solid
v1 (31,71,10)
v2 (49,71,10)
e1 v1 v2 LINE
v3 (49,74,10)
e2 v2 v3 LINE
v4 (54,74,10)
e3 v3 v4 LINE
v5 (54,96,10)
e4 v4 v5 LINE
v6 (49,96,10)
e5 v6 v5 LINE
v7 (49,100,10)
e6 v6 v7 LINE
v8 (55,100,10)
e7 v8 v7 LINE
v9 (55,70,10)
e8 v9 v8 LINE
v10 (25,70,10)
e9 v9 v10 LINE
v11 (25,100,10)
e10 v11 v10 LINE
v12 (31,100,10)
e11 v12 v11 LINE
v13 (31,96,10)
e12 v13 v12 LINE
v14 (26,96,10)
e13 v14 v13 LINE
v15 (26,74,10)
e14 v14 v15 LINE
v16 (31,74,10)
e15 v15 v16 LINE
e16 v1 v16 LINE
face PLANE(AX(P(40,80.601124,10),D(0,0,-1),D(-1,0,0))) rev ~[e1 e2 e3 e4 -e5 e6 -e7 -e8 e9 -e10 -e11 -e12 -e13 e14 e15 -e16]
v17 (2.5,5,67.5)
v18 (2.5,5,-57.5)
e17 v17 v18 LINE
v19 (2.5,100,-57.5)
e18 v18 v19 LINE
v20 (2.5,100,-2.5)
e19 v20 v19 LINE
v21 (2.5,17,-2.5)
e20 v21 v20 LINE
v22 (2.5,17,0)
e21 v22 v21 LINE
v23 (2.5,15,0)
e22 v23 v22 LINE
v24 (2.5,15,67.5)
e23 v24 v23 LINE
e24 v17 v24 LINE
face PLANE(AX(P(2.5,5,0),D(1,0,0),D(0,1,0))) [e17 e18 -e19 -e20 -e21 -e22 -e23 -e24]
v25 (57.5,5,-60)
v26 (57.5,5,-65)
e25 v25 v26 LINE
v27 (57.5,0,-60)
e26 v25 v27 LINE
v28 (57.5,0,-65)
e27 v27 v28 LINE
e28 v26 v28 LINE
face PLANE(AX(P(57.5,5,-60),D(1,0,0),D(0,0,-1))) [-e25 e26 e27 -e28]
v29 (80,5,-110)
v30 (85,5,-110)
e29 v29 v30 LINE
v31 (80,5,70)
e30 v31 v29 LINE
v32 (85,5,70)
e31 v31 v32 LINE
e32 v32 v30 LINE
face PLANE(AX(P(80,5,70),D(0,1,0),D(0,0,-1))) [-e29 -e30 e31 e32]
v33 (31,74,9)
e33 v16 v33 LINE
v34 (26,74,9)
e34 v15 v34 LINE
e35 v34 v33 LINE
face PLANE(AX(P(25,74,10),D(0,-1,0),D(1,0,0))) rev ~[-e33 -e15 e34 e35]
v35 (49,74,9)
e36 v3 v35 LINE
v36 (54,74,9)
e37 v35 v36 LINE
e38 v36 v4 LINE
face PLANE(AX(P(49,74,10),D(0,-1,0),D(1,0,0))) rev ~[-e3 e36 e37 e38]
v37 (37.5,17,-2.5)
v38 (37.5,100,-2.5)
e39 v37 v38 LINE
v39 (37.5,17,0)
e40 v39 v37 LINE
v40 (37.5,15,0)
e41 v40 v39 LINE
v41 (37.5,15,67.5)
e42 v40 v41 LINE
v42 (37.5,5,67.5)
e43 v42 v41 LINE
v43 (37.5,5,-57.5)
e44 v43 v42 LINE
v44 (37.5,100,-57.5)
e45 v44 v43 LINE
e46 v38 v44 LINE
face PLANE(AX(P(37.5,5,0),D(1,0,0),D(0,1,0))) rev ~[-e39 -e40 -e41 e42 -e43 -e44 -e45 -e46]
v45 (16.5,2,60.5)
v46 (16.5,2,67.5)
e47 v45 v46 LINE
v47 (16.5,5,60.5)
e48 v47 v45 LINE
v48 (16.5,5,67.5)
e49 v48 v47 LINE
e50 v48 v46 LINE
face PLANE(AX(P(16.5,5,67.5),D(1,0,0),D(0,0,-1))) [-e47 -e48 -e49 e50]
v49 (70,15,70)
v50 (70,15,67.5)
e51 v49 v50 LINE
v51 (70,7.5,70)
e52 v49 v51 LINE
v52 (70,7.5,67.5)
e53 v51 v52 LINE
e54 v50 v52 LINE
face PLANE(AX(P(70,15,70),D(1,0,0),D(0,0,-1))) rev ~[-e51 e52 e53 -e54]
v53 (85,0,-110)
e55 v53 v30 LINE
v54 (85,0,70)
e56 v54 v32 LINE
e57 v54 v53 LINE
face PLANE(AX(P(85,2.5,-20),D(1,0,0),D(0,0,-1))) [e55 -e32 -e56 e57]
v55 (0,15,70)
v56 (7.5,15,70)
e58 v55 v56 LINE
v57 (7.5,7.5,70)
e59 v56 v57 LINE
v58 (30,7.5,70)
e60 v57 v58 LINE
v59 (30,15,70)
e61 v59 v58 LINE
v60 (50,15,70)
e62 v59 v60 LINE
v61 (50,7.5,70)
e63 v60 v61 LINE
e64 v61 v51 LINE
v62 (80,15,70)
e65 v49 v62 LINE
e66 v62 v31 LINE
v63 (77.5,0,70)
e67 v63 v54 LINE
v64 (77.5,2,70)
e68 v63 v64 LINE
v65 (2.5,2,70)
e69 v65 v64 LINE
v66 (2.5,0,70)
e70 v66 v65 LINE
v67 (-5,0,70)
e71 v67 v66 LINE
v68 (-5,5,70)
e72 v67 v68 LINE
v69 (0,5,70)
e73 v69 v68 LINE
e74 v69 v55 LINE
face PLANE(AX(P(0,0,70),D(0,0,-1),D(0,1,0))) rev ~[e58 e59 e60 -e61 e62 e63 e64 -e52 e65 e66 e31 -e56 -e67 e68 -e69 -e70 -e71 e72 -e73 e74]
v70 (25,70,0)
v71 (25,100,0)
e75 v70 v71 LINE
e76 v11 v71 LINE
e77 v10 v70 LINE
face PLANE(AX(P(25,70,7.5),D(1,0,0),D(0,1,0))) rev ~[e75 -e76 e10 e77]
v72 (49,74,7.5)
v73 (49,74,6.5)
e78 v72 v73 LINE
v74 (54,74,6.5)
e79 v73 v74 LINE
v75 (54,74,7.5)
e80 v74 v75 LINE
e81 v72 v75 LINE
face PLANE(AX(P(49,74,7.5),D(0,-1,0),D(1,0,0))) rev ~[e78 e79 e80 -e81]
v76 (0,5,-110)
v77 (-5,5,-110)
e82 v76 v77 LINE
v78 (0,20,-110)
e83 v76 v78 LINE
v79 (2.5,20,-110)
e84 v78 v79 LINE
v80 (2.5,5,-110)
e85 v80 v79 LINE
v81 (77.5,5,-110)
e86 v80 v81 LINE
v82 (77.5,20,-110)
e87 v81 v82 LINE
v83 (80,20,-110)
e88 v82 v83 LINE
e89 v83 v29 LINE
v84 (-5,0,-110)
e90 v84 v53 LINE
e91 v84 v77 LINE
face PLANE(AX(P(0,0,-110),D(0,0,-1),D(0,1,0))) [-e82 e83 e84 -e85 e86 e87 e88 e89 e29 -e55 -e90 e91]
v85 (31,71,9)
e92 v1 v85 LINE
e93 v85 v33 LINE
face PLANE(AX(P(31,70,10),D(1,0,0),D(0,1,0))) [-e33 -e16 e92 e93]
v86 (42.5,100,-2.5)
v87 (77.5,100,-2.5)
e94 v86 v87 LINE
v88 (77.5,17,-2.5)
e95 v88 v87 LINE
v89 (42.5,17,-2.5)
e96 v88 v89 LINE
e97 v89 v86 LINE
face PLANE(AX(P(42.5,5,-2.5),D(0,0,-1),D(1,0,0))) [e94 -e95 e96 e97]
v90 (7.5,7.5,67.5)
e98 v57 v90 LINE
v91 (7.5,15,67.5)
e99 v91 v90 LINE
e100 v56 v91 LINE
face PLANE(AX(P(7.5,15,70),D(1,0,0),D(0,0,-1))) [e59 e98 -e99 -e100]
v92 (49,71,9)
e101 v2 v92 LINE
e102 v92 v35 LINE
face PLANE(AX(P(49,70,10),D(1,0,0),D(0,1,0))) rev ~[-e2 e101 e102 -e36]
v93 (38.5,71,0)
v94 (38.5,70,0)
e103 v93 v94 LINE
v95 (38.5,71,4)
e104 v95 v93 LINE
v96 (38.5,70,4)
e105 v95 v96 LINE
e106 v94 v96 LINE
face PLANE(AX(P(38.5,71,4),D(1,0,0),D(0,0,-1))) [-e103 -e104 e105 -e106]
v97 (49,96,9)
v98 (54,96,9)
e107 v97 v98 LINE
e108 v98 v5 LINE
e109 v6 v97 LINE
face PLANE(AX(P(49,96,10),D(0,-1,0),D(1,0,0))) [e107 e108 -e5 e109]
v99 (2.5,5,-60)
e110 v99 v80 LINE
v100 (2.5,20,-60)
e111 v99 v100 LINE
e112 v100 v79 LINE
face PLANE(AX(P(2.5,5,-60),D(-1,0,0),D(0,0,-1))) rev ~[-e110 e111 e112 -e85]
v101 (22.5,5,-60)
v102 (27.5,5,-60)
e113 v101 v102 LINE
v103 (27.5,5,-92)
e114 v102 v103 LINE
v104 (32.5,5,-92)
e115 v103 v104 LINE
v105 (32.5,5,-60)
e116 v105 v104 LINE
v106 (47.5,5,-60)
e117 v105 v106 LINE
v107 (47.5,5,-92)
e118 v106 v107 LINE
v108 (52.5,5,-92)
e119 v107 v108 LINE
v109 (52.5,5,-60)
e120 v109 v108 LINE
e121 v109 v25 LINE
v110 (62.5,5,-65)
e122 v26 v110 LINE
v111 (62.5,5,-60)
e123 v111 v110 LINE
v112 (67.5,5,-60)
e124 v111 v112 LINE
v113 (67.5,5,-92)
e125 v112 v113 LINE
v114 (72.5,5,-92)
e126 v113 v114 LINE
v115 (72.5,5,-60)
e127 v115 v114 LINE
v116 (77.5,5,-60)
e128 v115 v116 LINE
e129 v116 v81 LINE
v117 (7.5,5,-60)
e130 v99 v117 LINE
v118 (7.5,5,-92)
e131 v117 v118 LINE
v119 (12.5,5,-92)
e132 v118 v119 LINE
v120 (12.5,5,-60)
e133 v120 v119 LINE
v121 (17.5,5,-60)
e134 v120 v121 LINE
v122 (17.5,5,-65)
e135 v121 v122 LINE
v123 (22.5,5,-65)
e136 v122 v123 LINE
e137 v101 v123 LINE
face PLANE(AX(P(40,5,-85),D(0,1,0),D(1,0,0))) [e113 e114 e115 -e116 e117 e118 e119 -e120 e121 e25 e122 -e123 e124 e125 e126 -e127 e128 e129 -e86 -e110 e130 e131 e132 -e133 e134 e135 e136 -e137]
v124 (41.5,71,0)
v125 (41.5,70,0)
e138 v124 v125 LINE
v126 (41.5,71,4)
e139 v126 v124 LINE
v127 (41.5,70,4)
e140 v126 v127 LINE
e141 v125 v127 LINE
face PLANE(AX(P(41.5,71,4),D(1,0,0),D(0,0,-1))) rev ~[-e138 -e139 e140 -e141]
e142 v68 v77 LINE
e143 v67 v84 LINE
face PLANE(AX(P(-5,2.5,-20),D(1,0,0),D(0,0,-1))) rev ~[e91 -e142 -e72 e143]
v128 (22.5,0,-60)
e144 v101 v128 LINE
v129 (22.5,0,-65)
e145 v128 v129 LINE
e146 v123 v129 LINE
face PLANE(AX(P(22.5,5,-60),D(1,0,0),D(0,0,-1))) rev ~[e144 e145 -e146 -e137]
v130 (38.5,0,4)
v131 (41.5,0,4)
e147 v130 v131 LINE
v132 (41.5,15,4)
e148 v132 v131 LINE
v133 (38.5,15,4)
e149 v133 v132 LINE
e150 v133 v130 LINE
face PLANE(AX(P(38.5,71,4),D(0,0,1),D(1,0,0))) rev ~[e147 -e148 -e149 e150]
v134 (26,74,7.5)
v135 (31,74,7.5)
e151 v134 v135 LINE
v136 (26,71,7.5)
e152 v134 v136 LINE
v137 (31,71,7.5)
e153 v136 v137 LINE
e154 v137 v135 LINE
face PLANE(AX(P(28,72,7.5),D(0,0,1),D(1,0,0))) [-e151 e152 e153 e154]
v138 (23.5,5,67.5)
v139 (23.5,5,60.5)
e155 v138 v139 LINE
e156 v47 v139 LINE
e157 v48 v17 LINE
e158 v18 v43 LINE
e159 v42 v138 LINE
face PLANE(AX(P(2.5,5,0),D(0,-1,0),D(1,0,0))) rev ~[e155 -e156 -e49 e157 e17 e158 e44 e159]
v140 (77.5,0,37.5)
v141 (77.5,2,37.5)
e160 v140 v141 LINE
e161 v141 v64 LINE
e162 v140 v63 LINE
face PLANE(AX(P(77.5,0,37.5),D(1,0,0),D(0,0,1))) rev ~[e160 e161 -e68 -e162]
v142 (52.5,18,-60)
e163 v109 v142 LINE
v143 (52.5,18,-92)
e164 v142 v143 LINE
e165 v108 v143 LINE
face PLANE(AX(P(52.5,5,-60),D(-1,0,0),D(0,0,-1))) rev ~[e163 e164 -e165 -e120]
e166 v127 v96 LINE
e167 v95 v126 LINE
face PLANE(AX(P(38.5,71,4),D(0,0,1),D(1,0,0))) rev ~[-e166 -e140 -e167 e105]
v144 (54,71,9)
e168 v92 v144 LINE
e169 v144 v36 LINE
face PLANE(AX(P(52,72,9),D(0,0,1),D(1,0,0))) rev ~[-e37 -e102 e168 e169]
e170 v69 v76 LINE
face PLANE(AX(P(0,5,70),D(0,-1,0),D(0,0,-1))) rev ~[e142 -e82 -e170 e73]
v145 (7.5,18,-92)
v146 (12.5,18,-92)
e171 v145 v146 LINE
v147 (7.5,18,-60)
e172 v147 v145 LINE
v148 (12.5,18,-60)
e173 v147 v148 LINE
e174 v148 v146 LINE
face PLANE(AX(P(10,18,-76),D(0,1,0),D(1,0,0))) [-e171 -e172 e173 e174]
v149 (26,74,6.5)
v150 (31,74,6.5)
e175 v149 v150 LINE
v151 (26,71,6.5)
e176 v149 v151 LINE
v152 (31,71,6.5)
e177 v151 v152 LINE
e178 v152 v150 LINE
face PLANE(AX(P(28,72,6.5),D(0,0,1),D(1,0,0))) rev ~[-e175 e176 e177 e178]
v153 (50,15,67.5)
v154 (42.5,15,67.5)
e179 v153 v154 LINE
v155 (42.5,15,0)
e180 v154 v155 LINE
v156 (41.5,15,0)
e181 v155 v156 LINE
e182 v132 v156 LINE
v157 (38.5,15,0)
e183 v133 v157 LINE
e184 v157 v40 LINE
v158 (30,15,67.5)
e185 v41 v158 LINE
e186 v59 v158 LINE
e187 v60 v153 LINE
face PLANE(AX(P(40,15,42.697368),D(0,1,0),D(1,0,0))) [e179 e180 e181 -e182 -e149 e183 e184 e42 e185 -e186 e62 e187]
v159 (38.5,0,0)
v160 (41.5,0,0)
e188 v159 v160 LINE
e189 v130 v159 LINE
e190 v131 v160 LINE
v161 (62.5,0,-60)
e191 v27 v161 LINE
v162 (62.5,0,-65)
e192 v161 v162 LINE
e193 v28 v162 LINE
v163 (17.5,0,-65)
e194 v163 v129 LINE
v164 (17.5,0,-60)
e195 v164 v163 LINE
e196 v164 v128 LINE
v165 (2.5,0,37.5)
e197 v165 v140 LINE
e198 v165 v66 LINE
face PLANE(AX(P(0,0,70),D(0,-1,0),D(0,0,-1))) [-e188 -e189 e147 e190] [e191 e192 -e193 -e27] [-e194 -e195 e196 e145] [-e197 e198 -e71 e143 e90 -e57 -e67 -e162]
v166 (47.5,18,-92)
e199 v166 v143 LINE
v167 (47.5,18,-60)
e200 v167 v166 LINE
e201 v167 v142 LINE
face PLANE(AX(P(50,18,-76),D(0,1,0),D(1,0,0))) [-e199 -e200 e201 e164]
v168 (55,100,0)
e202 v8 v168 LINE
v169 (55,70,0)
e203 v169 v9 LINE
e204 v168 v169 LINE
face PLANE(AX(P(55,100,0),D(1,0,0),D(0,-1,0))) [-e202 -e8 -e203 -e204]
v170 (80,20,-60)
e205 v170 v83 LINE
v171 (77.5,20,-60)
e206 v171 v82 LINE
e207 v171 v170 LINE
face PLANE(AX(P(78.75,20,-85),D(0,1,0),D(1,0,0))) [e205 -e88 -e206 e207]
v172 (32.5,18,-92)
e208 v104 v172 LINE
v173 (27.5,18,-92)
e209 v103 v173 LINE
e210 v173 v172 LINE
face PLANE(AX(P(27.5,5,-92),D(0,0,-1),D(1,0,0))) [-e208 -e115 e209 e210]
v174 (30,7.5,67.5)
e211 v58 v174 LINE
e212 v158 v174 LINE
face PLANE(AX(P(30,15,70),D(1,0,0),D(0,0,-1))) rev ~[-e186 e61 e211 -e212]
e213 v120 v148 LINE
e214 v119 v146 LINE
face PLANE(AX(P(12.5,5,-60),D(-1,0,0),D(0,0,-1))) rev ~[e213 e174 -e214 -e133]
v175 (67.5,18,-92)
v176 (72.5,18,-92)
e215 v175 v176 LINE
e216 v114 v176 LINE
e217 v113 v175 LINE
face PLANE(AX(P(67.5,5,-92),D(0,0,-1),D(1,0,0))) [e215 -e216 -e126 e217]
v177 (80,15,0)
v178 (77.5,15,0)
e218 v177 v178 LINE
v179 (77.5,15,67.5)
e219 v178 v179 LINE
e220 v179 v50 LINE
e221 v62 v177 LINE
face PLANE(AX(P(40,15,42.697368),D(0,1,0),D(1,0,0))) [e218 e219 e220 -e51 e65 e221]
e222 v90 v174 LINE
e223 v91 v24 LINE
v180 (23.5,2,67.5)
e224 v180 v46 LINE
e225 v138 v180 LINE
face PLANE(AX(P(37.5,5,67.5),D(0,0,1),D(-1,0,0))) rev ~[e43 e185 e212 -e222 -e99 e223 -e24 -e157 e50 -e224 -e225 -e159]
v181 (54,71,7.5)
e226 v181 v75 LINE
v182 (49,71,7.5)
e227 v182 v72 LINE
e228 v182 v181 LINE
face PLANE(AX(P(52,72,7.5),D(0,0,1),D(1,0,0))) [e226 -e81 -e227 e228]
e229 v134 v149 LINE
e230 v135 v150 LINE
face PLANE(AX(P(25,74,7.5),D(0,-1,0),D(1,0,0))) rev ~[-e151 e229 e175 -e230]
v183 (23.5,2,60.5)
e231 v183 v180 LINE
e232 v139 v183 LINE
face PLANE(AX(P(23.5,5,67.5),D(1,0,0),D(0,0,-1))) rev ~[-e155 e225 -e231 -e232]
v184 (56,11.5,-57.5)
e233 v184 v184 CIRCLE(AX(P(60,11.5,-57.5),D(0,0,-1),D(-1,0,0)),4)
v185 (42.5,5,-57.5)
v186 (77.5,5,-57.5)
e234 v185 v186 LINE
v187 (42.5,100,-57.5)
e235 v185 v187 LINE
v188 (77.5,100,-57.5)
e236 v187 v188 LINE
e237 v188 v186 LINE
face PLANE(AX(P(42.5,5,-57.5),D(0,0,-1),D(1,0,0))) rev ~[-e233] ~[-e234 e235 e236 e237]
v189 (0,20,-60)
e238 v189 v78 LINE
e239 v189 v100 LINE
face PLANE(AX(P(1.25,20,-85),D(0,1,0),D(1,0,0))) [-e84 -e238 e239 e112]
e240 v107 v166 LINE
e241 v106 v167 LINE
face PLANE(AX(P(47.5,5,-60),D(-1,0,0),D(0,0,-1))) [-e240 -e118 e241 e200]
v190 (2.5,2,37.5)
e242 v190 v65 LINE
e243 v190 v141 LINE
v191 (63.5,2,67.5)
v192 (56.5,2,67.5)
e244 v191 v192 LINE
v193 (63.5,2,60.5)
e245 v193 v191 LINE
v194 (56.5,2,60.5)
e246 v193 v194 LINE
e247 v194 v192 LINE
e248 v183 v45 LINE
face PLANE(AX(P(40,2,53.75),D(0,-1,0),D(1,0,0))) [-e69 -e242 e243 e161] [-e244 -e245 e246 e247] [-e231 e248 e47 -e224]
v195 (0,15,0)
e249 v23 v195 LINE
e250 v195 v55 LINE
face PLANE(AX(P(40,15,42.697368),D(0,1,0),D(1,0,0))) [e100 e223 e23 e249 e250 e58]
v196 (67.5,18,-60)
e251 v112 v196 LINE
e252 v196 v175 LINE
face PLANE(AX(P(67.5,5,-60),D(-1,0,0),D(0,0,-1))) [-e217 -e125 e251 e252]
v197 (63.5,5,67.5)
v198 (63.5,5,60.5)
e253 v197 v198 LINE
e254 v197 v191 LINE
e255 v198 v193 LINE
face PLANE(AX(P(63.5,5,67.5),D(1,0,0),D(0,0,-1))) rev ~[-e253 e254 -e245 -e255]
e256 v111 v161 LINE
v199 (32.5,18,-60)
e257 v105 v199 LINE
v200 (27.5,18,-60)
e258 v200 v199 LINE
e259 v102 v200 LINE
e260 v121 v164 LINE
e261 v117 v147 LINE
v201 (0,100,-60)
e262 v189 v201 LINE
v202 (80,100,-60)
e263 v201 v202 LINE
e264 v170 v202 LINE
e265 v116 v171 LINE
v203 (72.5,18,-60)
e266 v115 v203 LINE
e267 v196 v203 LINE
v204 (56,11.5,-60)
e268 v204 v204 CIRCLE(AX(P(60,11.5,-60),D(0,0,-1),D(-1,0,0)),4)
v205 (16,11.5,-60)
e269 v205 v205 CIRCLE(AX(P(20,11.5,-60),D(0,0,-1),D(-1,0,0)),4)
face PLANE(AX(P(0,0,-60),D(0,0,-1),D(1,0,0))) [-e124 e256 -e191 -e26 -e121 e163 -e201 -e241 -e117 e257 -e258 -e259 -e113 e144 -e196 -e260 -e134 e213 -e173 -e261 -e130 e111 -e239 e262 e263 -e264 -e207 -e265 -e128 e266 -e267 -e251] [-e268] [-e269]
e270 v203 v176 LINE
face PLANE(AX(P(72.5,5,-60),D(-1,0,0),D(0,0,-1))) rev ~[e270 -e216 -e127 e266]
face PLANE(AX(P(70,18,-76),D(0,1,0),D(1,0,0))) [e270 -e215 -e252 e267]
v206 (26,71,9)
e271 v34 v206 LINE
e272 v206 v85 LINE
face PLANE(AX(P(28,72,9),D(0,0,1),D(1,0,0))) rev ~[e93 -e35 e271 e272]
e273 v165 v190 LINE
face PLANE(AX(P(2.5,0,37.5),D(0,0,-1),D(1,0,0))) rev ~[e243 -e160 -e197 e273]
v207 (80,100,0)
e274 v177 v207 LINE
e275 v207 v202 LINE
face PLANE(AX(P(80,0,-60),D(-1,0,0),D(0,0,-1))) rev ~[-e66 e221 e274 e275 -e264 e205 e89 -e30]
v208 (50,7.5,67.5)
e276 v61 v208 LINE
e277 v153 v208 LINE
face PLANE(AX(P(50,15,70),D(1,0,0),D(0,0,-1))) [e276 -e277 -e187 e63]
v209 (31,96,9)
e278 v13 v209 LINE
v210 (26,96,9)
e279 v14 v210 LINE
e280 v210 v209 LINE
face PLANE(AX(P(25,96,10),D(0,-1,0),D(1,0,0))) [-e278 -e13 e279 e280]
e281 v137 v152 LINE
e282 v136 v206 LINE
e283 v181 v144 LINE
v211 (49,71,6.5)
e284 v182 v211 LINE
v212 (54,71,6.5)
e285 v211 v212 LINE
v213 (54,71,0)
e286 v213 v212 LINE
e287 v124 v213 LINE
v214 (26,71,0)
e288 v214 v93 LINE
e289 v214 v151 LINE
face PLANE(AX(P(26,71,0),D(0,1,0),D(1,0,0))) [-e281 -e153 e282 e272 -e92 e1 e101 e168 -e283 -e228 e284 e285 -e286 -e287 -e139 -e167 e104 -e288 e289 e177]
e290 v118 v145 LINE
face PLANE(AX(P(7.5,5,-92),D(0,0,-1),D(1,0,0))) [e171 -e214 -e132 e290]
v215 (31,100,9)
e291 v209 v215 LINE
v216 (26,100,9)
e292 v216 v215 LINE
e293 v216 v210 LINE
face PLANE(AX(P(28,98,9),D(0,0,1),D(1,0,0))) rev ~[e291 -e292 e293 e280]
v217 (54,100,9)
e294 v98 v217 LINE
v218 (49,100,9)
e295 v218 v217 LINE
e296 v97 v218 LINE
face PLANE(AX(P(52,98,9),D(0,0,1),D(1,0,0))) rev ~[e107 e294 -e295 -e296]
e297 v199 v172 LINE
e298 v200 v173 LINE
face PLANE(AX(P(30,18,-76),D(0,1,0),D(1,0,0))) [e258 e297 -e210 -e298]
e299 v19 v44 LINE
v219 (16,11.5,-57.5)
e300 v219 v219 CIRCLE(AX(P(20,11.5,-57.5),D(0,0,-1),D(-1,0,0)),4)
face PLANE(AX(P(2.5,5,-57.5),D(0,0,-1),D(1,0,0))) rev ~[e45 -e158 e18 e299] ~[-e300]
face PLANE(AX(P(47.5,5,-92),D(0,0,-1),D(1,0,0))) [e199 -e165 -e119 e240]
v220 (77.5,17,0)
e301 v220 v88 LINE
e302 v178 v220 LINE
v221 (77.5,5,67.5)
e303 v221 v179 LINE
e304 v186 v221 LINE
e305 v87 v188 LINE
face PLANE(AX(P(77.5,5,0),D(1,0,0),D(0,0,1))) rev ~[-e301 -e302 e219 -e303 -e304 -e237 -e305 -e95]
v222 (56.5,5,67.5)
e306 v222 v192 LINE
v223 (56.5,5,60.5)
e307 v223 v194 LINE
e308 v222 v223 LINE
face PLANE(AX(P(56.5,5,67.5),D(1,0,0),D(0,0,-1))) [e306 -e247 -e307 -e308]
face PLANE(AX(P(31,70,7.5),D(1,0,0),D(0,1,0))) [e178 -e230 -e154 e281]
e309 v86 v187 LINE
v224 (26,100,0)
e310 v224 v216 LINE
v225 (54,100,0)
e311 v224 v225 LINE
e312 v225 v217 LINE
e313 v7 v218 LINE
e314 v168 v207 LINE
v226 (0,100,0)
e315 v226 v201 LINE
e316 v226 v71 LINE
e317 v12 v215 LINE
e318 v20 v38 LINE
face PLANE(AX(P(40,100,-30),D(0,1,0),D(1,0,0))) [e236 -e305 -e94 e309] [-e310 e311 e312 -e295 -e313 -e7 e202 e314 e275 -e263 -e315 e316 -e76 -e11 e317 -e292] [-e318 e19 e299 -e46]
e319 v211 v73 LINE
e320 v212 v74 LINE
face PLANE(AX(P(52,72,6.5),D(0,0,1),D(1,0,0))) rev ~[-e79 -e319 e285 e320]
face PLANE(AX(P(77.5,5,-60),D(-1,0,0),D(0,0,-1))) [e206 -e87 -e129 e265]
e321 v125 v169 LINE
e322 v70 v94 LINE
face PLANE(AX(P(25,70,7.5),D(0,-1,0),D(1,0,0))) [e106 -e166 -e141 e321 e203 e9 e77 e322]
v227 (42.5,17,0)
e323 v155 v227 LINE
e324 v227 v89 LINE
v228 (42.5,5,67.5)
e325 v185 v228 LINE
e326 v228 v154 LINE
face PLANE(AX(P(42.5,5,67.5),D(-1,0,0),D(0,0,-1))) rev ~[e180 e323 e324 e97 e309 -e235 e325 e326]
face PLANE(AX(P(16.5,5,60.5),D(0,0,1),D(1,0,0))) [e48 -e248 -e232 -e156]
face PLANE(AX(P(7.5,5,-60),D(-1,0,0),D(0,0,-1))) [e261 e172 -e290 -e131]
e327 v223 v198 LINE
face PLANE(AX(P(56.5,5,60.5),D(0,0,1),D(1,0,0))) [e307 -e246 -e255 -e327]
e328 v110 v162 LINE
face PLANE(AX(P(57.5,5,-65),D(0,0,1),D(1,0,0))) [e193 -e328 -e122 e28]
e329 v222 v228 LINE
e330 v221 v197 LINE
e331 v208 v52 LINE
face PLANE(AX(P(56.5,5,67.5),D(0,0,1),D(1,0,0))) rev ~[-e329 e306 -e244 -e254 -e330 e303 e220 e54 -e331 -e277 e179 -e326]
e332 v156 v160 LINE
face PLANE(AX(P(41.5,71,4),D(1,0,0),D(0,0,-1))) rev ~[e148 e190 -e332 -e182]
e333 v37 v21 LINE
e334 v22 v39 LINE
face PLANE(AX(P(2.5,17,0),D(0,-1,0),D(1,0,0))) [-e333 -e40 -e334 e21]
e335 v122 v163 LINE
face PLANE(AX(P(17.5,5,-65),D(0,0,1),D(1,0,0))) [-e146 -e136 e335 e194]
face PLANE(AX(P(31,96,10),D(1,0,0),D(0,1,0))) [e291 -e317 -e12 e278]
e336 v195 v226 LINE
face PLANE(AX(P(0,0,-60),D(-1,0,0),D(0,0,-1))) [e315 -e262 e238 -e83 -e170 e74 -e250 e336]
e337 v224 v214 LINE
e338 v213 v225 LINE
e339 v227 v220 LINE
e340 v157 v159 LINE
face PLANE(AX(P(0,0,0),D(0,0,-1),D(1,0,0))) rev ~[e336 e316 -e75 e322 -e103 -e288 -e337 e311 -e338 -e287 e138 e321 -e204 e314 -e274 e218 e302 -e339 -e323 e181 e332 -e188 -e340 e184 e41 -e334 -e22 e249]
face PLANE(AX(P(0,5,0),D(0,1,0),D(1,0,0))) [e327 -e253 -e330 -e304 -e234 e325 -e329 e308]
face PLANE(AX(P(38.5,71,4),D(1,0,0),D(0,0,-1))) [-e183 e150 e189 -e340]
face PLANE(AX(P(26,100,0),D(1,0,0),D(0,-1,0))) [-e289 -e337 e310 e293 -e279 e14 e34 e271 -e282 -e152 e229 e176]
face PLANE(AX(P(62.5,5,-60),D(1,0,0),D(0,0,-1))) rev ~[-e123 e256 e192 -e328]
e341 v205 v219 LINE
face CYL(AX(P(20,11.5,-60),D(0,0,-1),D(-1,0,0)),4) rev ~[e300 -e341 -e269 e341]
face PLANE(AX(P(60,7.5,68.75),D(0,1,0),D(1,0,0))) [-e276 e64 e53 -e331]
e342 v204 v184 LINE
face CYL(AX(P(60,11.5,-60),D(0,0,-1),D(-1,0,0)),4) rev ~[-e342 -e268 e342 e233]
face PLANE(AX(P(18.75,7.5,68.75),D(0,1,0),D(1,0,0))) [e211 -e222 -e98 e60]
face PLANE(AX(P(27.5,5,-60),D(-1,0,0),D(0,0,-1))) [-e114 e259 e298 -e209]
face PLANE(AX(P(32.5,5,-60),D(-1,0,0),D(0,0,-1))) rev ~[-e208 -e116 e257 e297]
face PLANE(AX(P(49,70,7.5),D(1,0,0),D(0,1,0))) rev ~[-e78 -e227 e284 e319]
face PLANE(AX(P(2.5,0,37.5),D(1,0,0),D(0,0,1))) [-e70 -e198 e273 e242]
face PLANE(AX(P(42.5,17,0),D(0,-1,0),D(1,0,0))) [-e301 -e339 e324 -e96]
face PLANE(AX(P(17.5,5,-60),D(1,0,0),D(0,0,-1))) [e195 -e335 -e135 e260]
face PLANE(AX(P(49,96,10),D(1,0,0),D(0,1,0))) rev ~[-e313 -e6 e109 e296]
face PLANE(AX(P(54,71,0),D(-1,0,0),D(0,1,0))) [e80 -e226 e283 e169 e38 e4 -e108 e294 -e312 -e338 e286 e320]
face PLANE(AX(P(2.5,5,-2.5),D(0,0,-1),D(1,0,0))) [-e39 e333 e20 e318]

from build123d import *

# Parameters (mm, degrees)
SKETCH1_W                                   = 80
SKETCH1_H                                   = 60
BOSS_EXTRUDE1_DEPTH                         = 100
CUT_EXTRUDE1_START                          = 5
SKETCH2_W                                   = 35
SKETCH2_H                                   = 55
CUT_EXTRUDE1_DEPTH                          = 95
SKETCH3_W                                   = 80
SKETCH3_H                                   = 5
BOSS_EXTRUDE2_DEPTH                         = 70
BOSS_EXTRUDE3_DEPTH                         = 10
SKETCH5_W                                   = 22.5
SKETCH5_H                                   = 2.5
SKETCH5_W_2                                 = 20
CUT_EXTRUDE2_DEPTH                          = 7.5
SKETCH6_W                                   = 35
SKETCH6_H                                   = 12
CUT_EXTRUDE4_DEPTH                          = 57.5
CUT_EXTRUDE6_REACH                          = 184.483
SKETCH7_R                                   = 4
SKETCH9_W                                   = 80
SKETCH9_H                                   = 50
BOSS_EXTRUDE4_DEPTH                         = 5
SKETCH11_W                                  = 75
SKETCH11_H                                  = 32.5
CUT_EXTRUDE7_DEPTH                          = 2
SKETCH13_W                                  = 7
SKETCH13_H                                  = 7
CUT_EXTRUDE8_DEPTH                          = 166.90660023
BOSS_EXTRUDE5_DEPTH                         = 10
SKETCH15_W                                  = 6
SKETCH15_H                                  = 4
BOSS_EXTRUDE6_DEPTH                         = 1
BOSS_EXTRUDE7_START                         = -2.5
SKETCH15_2_W                                = 6
SKETCH15_2_H                                = 4
BOSS_EXTRUDE7_DEPTH                         = 1
SKETCH17_W                                  = 6
SKETCH17_H                                  = 4
BOSS_EXTRUDE8_DEPTH                         = 1
SKETCH18_W                                  = 3
SKETCH18_H                                  = 4
CUT_EXTRUDE9_OLED_CABLE_DEPTH               = 154.430766146
SKETCH20_W                                  = 5
SKETCH20_H                                  = 5
CUT_EXTRUDE10_SOLENOID_WIRE_DEPTH           = 166.90660023
SKETCH21_W                                  = 5
SKETCH21_H                                  = 32
BOSS_EXTRUDE9_SOLENOID_SIDE_SUPPORT_DEPTH   = 13
SKETCH27_W                                  = 2.5
SKETCH27_H                                  = 50
BOSS_EXTRUDE13_SOLENOID_SECTION_WALLS_DEPTH = 15
SKETCH29_W                                  = 180
SKETCH29_H                                  = 5
BOSS_EXTRUDE9_GUIDE_DEPTH                   = 5
BOSS_EXTRUDE10_START                        = -80
SKETCH29_3_W                                = 180
SKETCH29_3_H                                = 5
BOSS_EXTRUDE10_GUIDE_DEPTH                  = 5


with BuildPart() as part:
    # Sketch1 → Boss-Extrude1 (new body)
    with BuildSketch(Plane(origin=(0, 0, 0), x_dir=(1, 0, 0), z_dir=(0, 1, 0))):
        with Locations((40, 30)):
            Rectangle(SKETCH1_W, SKETCH1_H)
    extrude(amount=BOSS_EXTRUDE1_DEPTH)

    # Sketch2 → Cut-Extrude1 (cut)
    with BuildSketch(Plane(origin=(0, 0, 0), x_dir=(1, 0, 0), z_dir=(0, 1, 0)).offset(CUT_EXTRUDE1_START)):
        with Locations((20, 30)):
            Rectangle(SKETCH2_W, SKETCH2_H)
        with Locations((60, 30)):
            Rectangle(SKETCH2_W, SKETCH2_H)
    extrude(amount=CUT_EXTRUDE1_DEPTH, mode=Mode.SUBTRACT)

    # Sketch3 → Boss-Extrude2 (add)
    with BuildSketch(Plane.XY):
        with Locations((40, 2.5)):
            Rectangle(SKETCH3_W, SKETCH3_H)
    extrude(amount=BOSS_EXTRUDE2_DEPTH)

    # Sketch4 → Boss-Extrude3 (add)
    with BuildSketch(Plane(origin=(0, 5, 0), x_dir=(1, 0, 0), z_dir=(0, 1, 0))):
        Polygon((80, 0), (77.5, 0), (77.5, -67.5), (42.5, -67.5), (42.5, 0), (37.5, 0), (37.5, -67.5), (2.5, -67.5), (2.5, 0), (0, 0), (0, -70), (80, -70), align=None)
    extrude(amount=BOSS_EXTRUDE3_DEPTH)

    # Sketch5 → Cut-Extrude2 (cut)
    with BuildSketch(Plane(origin=(0, 15, 0), x_dir=(1, 0, 0), z_dir=(0, 1, 0))):
        with Locations((18.75, -68.75)):
            Rectangle(SKETCH5_W, SKETCH5_H)
        with Locations((60, -68.75)):
            Rectangle(SKETCH5_W_2, SKETCH5_H)
    extrude(amount=-CUT_EXTRUDE2_DEPTH, mode=Mode.SUBTRACT)

    # Sketch6 → Cut-Extrude4 (cut)
    with BuildSketch(Plane.XY):
        with Locations((20, 11)):
            Rectangle(SKETCH6_W, SKETCH6_H)
        with Locations((60, 11)):
            Rectangle(SKETCH6_W, SKETCH6_H)
    extrude(amount=-CUT_EXTRUDE4_DEPTH, mode=Mode.SUBTRACT)

    # Sketch7 → Cut-Extrude6 (cut, up to next)
    with BuildSketch(Plane(origin=(0, 0, -60), x_dir=(-1, 0, 0), z_dir=(0, 0, -1)), mode=Mode.PRIVATE) as cut_extrude6_sk1:
        with Locations((-20, 11.5)):
            Circle(SKETCH7_R)
    cut_extrude6_tool1 = extrude(cut_extrude6_sk1.sketch, amount=-CUT_EXTRUDE6_REACH, mode=Mode.PRIVATE) & part.part
    # Sketch7 → Cut-Extrude6 (cut, up to next)
    with BuildSketch(Plane(origin=(0, 0, -60), x_dir=(-1, 0, 0), z_dir=(0, 0, -1)), mode=Mode.PRIVATE) as cut_extrude6_sk2:
        with Locations((-60, 11.5)):
            Circle(SKETCH7_R)
    cut_extrude6_tool2 = extrude(cut_extrude6_sk2.sketch, amount=-CUT_EXTRUDE6_REACH, mode=Mode.PRIVATE) & part.part
    add(cut_extrude6_tool1.solids().sort_by_distance((20, 11.5, -60))[0], mode=Mode.SUBTRACT)
    add(cut_extrude6_tool2.solids().sort_by_distance((60, 11.5, -60))[0], mode=Mode.SUBTRACT)

    # Sketch9 → Boss-Extrude4 (add)
    with BuildSketch(Plane(origin=(0, 0, 0), x_dir=(1, 0, 0), z_dir=(0, 1, 0))):
        with Locations((40, 85)):
            Rectangle(SKETCH9_W, SKETCH9_H)
    extrude(amount=BOSS_EXTRUDE4_DEPTH)

    # Sketch11 → Cut-Extrude7 (cut)
    with BuildSketch(Plane.XZ):
        with Locations((40, 53.75)):
            Rectangle(SKETCH11_W, SKETCH11_H)
    extrude(amount=-CUT_EXTRUDE7_DEPTH, mode=Mode.SUBTRACT)

    # Sketch13 → Cut-Extrude8 (cut, through all)
    with BuildSketch(Plane(origin=(0, 5, 0), x_dir=(1, 0, 0), z_dir=(0, 1, 0))):
        with Locations((20, -64)):
            Rectangle(SKETCH13_W, SKETCH13_H)
        with Locations((60, -64)):
            Rectangle(SKETCH13_W, SKETCH13_H)
    extrude(amount=-CUT_EXTRUDE8_DEPTH, mode=Mode.SUBTRACT)

    # Sketch14 → Boss-Extrude5 (add)
    with BuildSketch(Plane.XY):
        Polygon((25, 100), (26, 100), (26, 71), (54, 71), (54, 100), (55, 100), (55, 70), (54, 70), (26, 70), (25, 70), align=None)
    extrude(amount=BOSS_EXTRUDE5_DEPTH)

    # Sketch15 → Boss-Extrude6 (add)
    with BuildSketch(Plane.XY.offset(10)):
        with Locations((28, 72)):
            Rectangle(SKETCH15_W, SKETCH15_H)
        with Locations((52, 72)):
            Rectangle(SKETCH15_W, SKETCH15_H)
    extrude(amount=-BOSS_EXTRUDE6_DEPTH)

    # Sketch15<2> → Boss-Extrude7 (add)
    with BuildSketch(Plane.XY.offset(10).offset(BOSS_EXTRUDE7_START)):
        with Locations((28, 72)):
            Rectangle(SKETCH15_2_W, SKETCH15_2_H)
        with Locations((52, 72)):
            Rectangle(SKETCH15_2_W, SKETCH15_2_H)
    extrude(amount=-BOSS_EXTRUDE7_DEPTH)

    # Sketch17 → Boss-Extrude8 (add)
    with BuildSketch(Plane.XY.offset(10)):
        with Locations((28, 98)):
            Rectangle(SKETCH17_W, SKETCH17_H)
        with Locations((52, 98)):
            Rectangle(SKETCH17_W, SKETCH17_H)
    extrude(amount=-BOSS_EXTRUDE8_DEPTH)

    # Sketch18 → Cut-Extrude9 (OLED Cable) (cut, through all)
    with BuildSketch(Plane(origin=(0, 71, 0), x_dir=(1, 0, 0), z_dir=(0, 1, 0))):
        with Locations((40, -2)):
            Rectangle(SKETCH18_W, SKETCH18_H)
    extrude(amount=-CUT_EXTRUDE9_OLED_CABLE_DEPTH, mode=Mode.SUBTRACT)

    # Sketch20 → Cut-Extrude10 (Solenoid Wire) (cut, through all)
    with BuildSketch(Plane(origin=(0, 5, 0), x_dir=(1, 0, 0), z_dir=(0, 1, 0))):
        with Locations((60, 62.5)):
            Rectangle(SKETCH20_W, SKETCH20_H)
        with Locations((20, 62.5)):
            Rectangle(SKETCH20_W, SKETCH20_H)
    extrude(amount=-CUT_EXTRUDE10_SOLENOID_WIRE_DEPTH, mode=Mode.SUBTRACT)

    # Sketch21 → Boss-Extrude9 (Solenoid Side Support) (add)
    with BuildSketch(Plane(origin=(0, 5, 0), x_dir=(1, 0, 0), z_dir=(0, 1, 0))):
        with Locations((70, 76)):
            Rectangle(SKETCH21_W, SKETCH21_H)
        with Locations((50, 76)):
            Rectangle(SKETCH21_W, SKETCH21_H)
        with Locations((30, 76)):
            Rectangle(SKETCH21_W, SKETCH21_H)
        with Locations((10, 76)):
            Rectangle(SKETCH21_W, SKETCH21_H)
    extrude(amount=BOSS_EXTRUDE9_SOLENOID_SIDE_SUPPORT_DEPTH)

    # Sketch27 → Boss-Extrude13 (Solenoid Section Walls) (add)
    with BuildSketch(Plane(origin=(0, 5, 0), x_dir=(1, 0, 0), z_dir=(0, 1, 0))):
        with Locations((78.75, 85)):
            Rectangle(SKETCH27_W, SKETCH27_H)
        with Locations((1.25, 85)):
            Rectangle(SKETCH27_W, SKETCH27_H)
    extrude(amount=BOSS_EXTRUDE13_SOLENOID_SECTION_WALLS_DEPTH)

    # Sketch29 → Boss-Extrude9 (Guide) (add)
    with BuildSketch(Plane(origin=(80, 0, 0), x_dir=(0, 0, -1), z_dir=(1, 0, 0))):
        with Locations((20, 2.5)):
            Rectangle(SKETCH29_W, SKETCH29_H)
    extrude(amount=BOSS_EXTRUDE9_GUIDE_DEPTH)

    # Sketch29<3> → Boss-Extrude10 (Guide) (add)
    with BuildSketch(Plane(origin=(80, 0, 0), x_dir=(0, 0, -1), z_dir=(1, 0, 0)).offset(BOSS_EXTRUDE10_START)):
        with Locations((20, 2.5)):
            Rectangle(SKETCH29_3_W, SKETCH29_3_H)
    extrude(amount=-BOSS_EXTRUDE10_GUIDE_DEPTH)


solid = part.part
